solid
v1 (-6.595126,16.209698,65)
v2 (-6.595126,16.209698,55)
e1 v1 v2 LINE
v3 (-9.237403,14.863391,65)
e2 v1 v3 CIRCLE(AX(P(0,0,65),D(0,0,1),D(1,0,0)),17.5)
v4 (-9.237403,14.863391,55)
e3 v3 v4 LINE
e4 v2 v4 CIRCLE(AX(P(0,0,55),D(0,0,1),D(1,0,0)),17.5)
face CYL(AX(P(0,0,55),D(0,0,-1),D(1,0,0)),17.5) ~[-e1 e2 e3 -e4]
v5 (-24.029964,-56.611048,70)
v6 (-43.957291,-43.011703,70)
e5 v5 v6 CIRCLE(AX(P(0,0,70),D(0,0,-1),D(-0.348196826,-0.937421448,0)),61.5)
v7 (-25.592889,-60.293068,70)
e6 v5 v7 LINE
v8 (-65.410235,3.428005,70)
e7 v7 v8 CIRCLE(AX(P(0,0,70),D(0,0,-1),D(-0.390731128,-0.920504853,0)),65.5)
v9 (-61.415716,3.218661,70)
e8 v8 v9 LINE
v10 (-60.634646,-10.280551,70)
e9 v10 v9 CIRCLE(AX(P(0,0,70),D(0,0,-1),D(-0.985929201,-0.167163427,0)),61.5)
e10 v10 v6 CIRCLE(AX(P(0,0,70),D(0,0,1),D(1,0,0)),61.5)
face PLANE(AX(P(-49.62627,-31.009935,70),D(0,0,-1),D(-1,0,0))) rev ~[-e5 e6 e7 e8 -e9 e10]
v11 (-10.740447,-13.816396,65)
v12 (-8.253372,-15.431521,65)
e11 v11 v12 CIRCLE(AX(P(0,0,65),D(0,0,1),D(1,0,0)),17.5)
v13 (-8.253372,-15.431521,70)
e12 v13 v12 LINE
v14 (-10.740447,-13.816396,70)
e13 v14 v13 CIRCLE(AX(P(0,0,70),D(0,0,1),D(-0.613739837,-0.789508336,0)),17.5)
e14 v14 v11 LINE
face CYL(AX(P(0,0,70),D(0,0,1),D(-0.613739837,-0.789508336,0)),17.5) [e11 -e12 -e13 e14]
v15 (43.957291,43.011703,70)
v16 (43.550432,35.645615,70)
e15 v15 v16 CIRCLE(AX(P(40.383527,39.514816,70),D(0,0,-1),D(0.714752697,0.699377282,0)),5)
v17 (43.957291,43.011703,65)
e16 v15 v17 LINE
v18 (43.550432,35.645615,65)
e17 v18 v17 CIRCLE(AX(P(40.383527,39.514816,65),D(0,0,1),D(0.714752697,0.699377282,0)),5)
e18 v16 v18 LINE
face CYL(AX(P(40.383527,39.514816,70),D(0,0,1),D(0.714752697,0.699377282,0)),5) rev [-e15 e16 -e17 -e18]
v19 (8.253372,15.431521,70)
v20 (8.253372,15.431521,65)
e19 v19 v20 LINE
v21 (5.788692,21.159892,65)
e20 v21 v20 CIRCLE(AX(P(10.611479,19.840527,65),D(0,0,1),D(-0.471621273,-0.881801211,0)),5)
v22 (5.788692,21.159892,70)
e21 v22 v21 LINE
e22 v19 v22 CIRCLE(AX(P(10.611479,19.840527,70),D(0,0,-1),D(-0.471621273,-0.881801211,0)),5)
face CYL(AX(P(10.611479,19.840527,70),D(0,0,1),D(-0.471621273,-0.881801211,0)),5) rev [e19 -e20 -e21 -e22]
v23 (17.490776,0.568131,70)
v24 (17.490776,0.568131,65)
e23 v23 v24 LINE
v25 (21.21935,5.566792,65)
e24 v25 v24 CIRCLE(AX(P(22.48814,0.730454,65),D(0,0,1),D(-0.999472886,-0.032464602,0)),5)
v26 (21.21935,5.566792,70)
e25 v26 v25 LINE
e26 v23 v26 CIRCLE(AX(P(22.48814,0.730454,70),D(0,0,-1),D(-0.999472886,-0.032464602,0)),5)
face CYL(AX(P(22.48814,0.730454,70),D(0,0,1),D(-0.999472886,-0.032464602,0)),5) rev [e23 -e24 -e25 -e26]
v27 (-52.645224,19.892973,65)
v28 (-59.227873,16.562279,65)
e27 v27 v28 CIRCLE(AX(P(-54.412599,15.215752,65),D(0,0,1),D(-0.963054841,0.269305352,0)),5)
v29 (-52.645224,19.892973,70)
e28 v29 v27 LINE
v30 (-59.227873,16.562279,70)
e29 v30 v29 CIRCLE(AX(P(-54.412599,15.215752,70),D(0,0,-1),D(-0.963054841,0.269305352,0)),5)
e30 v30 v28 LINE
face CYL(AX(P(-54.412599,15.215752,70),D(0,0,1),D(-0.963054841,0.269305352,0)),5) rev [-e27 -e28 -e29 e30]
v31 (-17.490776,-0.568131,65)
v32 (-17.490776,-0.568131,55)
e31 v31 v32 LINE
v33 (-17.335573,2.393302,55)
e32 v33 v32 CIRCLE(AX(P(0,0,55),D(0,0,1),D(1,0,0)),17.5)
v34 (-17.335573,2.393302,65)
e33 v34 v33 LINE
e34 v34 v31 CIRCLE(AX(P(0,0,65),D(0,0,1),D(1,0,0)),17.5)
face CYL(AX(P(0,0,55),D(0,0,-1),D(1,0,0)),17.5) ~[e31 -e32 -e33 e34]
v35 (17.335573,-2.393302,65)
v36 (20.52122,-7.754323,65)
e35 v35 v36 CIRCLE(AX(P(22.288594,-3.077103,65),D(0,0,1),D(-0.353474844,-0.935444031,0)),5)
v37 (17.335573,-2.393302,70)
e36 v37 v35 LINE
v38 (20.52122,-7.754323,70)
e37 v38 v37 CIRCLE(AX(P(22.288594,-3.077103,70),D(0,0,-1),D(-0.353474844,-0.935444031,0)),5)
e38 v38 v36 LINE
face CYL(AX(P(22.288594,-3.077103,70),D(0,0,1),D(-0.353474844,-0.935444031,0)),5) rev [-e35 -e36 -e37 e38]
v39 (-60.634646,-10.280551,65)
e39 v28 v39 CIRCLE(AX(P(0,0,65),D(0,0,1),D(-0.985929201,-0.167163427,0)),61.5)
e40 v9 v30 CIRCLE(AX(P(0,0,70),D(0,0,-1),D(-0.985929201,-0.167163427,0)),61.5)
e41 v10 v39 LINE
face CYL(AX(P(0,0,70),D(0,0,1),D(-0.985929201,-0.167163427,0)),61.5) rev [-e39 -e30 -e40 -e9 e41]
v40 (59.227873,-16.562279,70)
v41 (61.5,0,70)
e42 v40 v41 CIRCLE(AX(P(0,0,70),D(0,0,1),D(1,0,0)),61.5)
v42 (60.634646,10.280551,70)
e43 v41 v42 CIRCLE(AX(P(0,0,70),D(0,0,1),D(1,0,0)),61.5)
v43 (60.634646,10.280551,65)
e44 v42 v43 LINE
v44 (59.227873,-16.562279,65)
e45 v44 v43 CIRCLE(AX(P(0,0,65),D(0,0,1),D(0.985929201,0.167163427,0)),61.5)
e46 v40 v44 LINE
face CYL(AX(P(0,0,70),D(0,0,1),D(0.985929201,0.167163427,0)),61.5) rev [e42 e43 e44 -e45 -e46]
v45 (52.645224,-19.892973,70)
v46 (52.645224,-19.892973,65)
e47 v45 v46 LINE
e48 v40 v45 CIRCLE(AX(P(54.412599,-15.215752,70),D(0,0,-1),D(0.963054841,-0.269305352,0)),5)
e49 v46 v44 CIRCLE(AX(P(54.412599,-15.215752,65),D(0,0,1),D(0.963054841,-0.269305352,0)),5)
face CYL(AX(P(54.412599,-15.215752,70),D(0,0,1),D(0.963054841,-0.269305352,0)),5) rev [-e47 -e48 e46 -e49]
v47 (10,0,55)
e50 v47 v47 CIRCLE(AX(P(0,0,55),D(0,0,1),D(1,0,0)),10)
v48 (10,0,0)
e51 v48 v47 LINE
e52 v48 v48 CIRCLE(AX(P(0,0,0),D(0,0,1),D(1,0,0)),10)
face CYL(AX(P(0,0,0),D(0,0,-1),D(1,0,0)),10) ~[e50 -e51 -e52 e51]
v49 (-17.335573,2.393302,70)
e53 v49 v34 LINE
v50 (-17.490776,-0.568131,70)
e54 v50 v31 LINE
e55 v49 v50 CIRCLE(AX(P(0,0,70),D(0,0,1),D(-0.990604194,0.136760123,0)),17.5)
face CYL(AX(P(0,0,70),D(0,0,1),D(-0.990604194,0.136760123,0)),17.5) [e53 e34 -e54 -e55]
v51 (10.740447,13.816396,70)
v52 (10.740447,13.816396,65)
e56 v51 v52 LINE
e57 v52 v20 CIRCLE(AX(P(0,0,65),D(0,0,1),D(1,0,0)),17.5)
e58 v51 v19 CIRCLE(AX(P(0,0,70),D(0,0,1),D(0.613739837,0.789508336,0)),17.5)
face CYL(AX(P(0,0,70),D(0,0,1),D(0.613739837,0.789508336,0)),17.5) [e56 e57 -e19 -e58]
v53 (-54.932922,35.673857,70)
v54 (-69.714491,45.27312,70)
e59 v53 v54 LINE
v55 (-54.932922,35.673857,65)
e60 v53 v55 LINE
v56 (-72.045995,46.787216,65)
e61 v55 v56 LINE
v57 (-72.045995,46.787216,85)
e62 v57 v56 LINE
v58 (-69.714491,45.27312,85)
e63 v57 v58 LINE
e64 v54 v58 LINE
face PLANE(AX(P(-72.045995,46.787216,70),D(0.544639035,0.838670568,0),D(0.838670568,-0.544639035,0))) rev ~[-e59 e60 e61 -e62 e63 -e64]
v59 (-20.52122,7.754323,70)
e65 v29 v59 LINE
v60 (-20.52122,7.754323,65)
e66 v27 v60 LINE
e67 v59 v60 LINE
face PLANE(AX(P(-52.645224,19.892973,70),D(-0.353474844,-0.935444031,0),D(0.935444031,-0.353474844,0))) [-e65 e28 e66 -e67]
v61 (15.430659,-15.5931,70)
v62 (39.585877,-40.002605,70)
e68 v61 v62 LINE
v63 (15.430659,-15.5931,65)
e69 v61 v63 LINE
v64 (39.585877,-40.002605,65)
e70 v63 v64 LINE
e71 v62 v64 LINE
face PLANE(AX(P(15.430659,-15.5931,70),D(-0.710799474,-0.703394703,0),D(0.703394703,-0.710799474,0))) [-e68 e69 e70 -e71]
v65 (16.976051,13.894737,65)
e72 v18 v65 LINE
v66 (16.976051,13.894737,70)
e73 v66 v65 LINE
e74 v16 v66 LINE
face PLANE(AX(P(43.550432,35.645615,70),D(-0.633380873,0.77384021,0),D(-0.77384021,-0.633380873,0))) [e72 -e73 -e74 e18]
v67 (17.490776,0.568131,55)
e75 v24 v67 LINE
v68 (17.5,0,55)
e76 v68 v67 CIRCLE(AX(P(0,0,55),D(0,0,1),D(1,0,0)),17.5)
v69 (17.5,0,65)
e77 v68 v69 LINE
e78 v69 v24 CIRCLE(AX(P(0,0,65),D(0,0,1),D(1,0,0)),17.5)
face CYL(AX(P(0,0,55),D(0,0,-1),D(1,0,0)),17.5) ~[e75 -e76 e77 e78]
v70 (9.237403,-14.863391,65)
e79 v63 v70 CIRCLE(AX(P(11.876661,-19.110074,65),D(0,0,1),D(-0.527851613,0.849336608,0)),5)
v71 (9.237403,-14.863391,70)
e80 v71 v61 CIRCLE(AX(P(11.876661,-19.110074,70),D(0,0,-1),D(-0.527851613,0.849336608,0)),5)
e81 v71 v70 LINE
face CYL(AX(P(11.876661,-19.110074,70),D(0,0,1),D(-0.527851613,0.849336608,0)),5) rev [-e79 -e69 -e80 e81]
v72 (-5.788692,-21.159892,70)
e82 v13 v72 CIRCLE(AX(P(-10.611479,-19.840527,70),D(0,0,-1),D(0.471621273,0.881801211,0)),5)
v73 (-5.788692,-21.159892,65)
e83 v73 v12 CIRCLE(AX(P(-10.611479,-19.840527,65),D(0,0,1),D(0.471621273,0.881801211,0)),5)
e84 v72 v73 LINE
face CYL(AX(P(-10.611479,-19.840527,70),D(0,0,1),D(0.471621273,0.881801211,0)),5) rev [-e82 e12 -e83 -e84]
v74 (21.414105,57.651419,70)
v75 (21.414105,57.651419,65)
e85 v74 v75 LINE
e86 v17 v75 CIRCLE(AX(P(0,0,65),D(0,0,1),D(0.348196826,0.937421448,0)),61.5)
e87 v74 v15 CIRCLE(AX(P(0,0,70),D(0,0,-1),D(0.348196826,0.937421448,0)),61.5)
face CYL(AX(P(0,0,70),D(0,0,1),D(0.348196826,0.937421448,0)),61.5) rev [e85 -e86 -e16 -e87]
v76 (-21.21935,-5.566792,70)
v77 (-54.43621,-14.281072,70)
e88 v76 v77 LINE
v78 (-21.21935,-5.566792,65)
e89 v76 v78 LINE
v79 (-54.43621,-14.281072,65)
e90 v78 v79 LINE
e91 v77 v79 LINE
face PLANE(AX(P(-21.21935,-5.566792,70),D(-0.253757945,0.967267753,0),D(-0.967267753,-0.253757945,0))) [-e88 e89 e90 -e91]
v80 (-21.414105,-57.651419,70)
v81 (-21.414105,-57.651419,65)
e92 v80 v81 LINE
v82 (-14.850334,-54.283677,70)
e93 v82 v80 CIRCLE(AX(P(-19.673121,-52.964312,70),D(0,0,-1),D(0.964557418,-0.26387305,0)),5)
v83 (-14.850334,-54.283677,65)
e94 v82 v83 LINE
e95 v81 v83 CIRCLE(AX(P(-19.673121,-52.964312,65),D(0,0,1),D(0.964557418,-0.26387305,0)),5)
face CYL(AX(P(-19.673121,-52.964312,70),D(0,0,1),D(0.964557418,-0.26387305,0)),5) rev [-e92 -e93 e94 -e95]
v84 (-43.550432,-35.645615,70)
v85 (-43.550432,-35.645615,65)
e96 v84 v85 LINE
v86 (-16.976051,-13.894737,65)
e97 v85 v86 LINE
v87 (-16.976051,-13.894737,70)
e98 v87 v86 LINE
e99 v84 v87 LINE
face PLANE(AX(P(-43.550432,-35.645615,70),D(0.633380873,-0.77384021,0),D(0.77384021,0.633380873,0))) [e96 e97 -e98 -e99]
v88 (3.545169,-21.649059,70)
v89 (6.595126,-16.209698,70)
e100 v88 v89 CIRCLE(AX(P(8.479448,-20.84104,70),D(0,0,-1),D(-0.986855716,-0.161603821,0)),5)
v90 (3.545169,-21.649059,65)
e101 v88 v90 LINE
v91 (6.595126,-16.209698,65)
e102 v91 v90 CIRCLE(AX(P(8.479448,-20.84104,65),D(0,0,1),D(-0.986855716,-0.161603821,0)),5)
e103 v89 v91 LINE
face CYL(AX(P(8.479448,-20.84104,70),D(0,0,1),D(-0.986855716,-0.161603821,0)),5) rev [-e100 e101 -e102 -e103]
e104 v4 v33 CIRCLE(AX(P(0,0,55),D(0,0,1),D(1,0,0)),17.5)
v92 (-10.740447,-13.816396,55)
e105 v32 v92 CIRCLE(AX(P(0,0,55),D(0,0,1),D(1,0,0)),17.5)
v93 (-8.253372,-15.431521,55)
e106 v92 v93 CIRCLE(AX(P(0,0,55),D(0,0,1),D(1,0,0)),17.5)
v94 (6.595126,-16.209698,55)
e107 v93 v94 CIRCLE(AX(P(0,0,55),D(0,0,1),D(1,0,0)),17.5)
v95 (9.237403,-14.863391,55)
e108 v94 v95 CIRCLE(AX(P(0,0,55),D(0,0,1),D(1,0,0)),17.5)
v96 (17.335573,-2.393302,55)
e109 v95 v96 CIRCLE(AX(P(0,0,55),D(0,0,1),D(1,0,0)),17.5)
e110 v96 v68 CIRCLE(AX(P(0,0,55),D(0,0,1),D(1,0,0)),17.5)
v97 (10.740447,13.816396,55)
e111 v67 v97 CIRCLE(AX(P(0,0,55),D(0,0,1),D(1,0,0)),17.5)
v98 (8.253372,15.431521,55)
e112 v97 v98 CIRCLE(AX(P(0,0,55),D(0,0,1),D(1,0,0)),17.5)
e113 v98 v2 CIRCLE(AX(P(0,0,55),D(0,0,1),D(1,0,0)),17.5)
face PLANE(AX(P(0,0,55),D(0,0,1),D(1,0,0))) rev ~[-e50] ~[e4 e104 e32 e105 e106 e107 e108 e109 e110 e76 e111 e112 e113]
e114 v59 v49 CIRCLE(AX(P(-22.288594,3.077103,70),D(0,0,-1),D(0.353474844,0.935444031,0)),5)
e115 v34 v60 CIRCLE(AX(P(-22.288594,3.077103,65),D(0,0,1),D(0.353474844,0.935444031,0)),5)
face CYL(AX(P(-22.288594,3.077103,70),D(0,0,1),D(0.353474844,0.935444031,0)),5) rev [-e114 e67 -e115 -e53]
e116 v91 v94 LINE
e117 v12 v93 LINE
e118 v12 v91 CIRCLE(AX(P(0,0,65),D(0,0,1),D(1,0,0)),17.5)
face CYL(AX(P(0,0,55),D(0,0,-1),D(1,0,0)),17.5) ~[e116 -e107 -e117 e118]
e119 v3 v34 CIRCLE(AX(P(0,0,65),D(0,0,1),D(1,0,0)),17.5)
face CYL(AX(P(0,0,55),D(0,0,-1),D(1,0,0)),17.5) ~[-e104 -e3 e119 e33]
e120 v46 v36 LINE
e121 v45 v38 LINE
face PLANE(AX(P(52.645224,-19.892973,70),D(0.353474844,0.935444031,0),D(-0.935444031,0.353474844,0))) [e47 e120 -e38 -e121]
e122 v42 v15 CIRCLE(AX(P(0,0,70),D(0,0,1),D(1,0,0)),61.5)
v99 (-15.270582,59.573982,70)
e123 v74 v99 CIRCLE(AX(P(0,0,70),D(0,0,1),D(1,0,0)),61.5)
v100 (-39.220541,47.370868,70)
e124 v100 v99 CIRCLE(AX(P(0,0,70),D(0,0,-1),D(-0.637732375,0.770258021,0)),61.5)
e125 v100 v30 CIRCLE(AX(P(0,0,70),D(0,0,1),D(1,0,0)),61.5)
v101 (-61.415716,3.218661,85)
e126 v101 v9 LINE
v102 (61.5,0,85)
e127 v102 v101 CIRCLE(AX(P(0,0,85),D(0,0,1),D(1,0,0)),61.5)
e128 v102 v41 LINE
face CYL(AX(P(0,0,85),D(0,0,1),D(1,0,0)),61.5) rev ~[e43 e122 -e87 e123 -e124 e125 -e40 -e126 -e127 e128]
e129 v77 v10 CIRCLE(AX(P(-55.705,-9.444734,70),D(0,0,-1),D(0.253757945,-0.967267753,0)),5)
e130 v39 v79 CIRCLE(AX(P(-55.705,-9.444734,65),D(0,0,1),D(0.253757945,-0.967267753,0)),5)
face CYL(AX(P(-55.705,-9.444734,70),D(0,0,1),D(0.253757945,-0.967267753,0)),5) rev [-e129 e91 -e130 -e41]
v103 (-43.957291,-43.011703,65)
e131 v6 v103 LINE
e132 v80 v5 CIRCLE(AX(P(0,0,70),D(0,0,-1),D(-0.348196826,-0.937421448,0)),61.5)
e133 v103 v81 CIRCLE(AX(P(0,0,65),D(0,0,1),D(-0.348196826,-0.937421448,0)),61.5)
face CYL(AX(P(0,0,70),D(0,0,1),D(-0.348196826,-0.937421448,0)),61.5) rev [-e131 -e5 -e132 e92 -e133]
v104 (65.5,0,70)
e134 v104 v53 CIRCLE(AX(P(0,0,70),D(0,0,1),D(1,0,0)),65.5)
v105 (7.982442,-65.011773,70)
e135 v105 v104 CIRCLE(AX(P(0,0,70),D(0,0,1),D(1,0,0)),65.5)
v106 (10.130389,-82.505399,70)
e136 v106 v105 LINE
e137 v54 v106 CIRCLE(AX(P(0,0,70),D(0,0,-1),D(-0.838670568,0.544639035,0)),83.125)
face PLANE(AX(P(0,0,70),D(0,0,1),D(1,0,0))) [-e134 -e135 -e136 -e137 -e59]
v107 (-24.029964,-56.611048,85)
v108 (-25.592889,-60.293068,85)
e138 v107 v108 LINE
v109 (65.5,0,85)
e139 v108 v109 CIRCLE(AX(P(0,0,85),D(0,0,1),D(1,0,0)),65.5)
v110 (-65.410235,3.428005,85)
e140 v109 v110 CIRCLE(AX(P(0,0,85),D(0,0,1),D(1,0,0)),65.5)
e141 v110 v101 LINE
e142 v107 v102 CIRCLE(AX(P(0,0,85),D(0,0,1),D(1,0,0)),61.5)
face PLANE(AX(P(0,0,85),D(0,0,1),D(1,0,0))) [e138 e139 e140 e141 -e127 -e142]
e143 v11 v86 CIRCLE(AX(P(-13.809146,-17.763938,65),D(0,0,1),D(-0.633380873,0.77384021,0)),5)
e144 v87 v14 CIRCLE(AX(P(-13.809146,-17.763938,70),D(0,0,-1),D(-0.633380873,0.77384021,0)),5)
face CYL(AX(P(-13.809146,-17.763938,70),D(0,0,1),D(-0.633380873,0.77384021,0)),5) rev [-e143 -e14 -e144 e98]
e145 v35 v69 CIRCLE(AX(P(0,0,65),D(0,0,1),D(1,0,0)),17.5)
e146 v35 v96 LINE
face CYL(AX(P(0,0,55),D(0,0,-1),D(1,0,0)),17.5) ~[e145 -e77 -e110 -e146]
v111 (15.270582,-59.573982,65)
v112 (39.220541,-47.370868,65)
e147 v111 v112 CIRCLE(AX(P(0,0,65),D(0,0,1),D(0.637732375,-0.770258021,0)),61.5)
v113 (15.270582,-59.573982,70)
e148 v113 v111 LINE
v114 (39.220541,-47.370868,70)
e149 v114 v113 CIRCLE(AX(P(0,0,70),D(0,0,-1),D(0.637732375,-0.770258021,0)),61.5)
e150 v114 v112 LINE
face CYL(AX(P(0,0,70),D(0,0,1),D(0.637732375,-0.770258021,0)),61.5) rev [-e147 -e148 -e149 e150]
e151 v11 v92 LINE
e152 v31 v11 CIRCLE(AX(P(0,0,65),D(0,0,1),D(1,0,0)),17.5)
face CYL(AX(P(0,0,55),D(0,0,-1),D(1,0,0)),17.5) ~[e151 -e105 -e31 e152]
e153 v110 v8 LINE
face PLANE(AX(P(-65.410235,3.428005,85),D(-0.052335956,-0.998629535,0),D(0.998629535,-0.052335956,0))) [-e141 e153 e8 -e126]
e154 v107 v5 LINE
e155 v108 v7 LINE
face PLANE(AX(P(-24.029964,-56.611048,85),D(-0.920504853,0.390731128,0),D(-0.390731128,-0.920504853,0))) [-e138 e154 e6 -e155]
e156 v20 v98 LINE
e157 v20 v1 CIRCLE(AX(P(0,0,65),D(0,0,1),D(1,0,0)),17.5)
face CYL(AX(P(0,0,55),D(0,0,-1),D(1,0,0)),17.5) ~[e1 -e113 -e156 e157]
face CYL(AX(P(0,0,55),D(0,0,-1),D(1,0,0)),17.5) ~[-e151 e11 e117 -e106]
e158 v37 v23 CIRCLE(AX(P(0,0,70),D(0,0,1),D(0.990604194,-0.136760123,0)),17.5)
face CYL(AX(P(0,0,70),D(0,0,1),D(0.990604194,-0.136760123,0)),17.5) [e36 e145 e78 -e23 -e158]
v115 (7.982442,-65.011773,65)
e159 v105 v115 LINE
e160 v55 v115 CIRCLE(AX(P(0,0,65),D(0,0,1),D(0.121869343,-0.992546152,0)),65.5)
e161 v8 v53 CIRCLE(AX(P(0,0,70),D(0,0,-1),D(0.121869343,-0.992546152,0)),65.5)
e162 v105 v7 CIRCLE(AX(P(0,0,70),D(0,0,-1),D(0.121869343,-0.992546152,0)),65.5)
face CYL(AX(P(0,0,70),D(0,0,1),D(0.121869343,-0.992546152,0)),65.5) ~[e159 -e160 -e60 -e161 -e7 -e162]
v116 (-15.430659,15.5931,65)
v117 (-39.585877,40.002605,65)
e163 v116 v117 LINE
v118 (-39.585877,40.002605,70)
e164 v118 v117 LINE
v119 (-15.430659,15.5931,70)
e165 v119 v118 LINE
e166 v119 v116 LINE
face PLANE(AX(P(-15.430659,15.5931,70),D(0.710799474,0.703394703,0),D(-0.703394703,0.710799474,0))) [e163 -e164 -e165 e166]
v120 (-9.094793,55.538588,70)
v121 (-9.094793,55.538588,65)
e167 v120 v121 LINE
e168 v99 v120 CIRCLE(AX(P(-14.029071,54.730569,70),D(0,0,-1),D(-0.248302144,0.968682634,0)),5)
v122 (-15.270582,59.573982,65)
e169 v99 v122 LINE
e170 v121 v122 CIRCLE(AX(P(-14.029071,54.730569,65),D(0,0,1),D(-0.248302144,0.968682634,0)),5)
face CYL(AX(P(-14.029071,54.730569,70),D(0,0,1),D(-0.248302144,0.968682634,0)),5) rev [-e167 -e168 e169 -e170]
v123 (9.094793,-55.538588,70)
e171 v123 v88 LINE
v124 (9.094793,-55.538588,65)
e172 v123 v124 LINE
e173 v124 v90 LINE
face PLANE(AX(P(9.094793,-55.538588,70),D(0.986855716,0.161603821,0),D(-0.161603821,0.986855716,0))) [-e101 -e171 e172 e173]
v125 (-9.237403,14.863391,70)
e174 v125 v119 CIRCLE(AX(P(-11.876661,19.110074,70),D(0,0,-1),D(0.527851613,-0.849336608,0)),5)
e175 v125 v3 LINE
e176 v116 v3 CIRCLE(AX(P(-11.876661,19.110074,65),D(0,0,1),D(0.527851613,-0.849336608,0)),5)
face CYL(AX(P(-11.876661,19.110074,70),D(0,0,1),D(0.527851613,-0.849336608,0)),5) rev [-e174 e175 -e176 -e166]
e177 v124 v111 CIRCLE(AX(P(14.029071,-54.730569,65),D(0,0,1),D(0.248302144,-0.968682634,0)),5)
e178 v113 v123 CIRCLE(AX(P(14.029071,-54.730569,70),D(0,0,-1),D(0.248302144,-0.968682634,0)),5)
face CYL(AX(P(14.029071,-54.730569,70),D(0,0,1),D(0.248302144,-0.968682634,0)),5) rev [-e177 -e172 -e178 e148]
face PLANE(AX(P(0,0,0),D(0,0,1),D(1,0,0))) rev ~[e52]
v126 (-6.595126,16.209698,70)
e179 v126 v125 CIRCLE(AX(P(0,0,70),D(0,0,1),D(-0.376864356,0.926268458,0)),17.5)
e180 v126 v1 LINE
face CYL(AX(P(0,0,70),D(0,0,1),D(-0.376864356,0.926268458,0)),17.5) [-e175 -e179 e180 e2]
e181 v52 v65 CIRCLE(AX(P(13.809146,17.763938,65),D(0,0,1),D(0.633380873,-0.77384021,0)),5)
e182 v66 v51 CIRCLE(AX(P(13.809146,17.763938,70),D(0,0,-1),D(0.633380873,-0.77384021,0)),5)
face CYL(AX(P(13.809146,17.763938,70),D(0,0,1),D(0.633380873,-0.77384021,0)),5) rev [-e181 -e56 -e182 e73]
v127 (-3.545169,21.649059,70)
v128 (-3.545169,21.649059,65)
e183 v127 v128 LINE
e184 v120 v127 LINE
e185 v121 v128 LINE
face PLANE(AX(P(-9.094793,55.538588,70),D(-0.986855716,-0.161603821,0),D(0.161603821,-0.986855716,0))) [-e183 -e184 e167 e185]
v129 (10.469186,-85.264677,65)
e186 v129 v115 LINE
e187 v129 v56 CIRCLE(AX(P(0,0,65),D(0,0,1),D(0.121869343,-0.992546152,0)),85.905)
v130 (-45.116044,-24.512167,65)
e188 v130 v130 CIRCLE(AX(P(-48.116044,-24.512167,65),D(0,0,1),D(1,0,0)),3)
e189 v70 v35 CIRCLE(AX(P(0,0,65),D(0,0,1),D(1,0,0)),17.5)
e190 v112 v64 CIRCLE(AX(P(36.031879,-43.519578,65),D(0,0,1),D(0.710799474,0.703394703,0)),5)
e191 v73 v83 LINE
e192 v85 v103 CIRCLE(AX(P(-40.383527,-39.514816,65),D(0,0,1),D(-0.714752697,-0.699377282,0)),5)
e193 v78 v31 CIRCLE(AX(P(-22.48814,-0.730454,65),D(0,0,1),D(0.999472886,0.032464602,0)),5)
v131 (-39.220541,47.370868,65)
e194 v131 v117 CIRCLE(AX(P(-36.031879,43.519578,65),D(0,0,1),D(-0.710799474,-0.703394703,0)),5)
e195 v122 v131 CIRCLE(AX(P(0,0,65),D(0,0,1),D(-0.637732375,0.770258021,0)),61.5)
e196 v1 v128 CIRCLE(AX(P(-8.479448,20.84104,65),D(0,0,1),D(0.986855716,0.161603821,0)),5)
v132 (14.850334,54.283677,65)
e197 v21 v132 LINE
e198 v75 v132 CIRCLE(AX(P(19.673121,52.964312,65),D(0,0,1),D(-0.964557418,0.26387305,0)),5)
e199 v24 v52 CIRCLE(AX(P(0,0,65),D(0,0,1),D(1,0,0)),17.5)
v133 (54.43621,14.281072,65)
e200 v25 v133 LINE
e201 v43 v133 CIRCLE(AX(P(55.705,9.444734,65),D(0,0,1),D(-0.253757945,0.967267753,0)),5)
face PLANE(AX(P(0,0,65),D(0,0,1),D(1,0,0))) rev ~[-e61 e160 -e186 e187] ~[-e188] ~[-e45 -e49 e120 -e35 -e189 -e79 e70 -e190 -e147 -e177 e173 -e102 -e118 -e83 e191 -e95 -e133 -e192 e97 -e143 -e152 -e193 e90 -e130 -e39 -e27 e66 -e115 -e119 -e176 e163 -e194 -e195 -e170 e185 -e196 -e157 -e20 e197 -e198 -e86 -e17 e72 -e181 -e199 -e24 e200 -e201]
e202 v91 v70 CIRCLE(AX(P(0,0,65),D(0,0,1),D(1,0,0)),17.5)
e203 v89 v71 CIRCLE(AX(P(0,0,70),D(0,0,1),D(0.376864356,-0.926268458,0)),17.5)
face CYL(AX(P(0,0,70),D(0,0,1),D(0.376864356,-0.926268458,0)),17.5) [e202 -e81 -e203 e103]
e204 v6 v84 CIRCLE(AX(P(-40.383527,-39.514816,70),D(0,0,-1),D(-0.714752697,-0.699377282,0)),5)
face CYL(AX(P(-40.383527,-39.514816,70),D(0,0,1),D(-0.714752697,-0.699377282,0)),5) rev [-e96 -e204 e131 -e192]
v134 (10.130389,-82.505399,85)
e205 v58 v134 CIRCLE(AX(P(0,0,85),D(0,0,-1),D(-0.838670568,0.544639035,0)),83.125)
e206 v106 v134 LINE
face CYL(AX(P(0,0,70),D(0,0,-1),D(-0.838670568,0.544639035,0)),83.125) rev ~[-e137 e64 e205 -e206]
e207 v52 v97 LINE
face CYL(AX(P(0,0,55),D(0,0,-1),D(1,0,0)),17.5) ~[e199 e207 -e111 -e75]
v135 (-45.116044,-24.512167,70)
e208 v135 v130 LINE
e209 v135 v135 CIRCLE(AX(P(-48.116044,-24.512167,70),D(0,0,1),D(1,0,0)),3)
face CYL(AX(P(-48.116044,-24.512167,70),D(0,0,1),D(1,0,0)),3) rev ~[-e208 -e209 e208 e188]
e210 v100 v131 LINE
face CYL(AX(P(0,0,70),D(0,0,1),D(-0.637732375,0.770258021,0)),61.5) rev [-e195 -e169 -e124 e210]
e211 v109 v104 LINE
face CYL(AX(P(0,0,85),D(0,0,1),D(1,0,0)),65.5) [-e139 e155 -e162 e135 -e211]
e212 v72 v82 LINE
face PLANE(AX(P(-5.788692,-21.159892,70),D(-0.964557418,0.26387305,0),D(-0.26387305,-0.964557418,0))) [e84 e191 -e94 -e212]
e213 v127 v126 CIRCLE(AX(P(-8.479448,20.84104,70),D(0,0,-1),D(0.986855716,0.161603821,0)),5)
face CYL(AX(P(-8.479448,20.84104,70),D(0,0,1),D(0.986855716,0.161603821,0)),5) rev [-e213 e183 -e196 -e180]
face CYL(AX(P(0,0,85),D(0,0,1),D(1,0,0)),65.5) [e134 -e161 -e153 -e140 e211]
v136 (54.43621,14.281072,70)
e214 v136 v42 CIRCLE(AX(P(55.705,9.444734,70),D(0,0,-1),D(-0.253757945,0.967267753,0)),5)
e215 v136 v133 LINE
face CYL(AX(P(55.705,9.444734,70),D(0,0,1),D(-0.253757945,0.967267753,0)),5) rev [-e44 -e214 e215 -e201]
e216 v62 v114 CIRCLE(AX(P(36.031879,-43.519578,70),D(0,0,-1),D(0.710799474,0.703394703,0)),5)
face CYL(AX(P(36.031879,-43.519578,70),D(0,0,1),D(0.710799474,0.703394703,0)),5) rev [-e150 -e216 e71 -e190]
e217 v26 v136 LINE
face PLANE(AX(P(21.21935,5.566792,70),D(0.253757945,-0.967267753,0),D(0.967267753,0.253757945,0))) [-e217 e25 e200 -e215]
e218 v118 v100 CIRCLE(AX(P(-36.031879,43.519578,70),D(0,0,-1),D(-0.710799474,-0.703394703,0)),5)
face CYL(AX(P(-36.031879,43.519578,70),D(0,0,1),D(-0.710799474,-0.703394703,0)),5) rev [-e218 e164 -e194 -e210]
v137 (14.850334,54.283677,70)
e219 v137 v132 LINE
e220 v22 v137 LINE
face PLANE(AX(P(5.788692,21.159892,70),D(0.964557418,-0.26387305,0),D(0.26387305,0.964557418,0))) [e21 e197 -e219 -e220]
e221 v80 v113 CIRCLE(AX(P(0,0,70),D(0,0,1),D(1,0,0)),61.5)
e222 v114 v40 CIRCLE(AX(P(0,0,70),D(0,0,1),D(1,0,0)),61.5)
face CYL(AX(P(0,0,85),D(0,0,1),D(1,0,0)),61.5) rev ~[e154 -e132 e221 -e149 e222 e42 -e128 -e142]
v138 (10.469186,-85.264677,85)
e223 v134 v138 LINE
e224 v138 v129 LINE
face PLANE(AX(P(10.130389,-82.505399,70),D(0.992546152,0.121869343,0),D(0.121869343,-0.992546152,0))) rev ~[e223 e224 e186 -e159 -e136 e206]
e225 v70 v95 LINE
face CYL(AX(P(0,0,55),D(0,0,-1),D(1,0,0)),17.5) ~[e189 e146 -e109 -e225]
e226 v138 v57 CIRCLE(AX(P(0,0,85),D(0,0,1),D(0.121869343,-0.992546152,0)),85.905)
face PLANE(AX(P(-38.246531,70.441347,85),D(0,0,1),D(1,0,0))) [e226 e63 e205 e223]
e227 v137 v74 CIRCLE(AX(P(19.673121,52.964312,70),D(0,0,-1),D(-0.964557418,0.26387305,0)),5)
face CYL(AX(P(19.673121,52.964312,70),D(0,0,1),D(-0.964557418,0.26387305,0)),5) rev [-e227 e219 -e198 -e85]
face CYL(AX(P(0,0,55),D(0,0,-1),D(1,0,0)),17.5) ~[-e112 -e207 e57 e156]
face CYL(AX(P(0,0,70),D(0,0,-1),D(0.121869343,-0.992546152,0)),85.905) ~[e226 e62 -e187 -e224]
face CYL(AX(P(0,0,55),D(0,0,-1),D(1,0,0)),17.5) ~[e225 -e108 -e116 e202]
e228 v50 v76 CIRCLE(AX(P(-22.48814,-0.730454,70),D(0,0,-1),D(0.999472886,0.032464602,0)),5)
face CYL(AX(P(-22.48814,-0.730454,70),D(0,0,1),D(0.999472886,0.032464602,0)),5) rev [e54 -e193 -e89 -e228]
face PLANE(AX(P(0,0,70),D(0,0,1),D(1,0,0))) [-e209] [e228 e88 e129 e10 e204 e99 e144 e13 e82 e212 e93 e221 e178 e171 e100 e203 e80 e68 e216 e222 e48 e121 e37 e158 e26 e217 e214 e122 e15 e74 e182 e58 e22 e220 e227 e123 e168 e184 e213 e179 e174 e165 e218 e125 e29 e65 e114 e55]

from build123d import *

# Parameters (mm, degrees)
SCHIZZO1_R                   = 10.000000000000002
ESTRUSIONE_ESTRUSIONE1_DEPTH = 55
SCHIZZO2_R                   = 17.500000000000004
ESTRUSIONE_ESTRUSIONE2_DEPTH = 10
SCHIZZO3_R                   = 85.905
ESTRUSIONE_ESTRUSIONE3_DEPTH = 5
ESTRUSIONE_ESTRUSIONE4_DEPTH = 15
TAGLIO_ESTRUSIONE1_DEPTH     = 141.2117614538809
ESTRUSIONE_ESTRUSIONE5_START = 15
SCHIZZO6_R                   = 65.50000000000003
SCHIZZO6_R_2                 = 61.50000000000001
ESTRUSIONE_ESTRUSIONE5_DEPTH = 15
TAGLIO_ESTRUSIONE2_DEPTH     = 141.2117614538809
TAGLIO_ESTRUSIONE3_DEPTH     = 15
SCHIZZO9_R                   = 3.0000000000000018
TAGLIO_ESTRUSIONE4_DEPTH     = 141.2117614538809


with BuildPart() as part:
    # Schizzo1 → Estrusione-Estrusione1 (new body)
    with BuildSketch(Plane.XY):
        Circle(SCHIZZO1_R)
    extrude(amount=ESTRUSIONE_ESTRUSIONE1_DEPTH)

    # Schizzo2 → Estrusione-Estrusione2 (add)
    with BuildSketch(Plane.XY.offset(55)):
        Circle(SCHIZZO2_R)
    extrude(amount=ESTRUSIONE_ESTRUSIONE2_DEPTH)

    # Schizzo3 → Estrusione-Estrusione3 (add)
    with BuildSketch(Plane.XY.offset(65)):
        Circle(SCHIZZO3_R)
    extrude(amount=ESTRUSIONE_ESTRUSIONE3_DEPTH)

    # Schizzo4 → Estrusione-Estrusione4 (add)
    with BuildSketch(Plane.XY.offset(70)):
        with BuildLine():
            ThreePointArc((2.33238e-12, 85.905), (-40.99032330010046, 75.49478406322679), (-72.04599513935142, 46.78721630296627))
            Line((-72.0459951393514, 46.78721630296625), (-69.71449096046315, 45.27311978562447))
            ThreePointArc((-69.71449096046314, 45.27311978562449), (-39.66382194658025, 73.05167249002571), (-1.12081e-12, 83.125))
            Line((0, 83.125), (0, 85.905))
        make_face()
        with BuildLine():
            Line((10.130389170552856, -82.5053988551849), (10.469185945219174, -85.26467715674777))
            ThreePointArc((10.469185945219136, -85.26467715674778), (64.3390411943792, -56.92237524197296), (85.905, -2.104e-14))
            ThreePointArc((85.905, 0), (60.74400803783119, 60.74400803782954), (2.33238e-12, 85.905))
            Line((0, 85.905), (0, 83.125))
            ThreePointArc((-1.10236e-12, 83.125), (58.77825118613137, 58.77825118613215), (83.125, 0))
            ThreePointArc((83.125, -2.036e-14), (62.25694429058578, -55.08029150793321), (10.130389170552828, -82.5053988551849))
        make_face()
    extrude(amount=ESTRUSIONE_ESTRUSIONE4_DEPTH)

    # Schizzo5 → Taglio-Estrusione1 (cut, through all)
    with BuildSketch(Plane.XY.offset(70)):
        with BuildLine():
            Line((-69.7144909604632, 45.27311978562441), (-72.04599513935146, 46.78721630296619))
            ThreePointArc((-72.04599513935142, 46.787216302966286), (-72.85157170031785, -45.522714393953365), (10.469185945219396, -85.26467715674775))
            Line((10.469185945218987, -85.26467715674781), (10.130389170552684, -82.50539885518494))
            Line((10.130389170552684, -82.50539885518494), (7.982441993037, -65.0117729325066))
            ThreePointArc((7.9824419930370025, -65.01177293250663), (-55.54715029824602, -34.70971180727477), (-54.932922200425146, 35.67385679348449))
            Line((-54.93292220042516, 35.67385679348449), (-69.7144909604632, 45.27311978562441))
        make_face()
    extrude(amount=-TAGLIO_ESTRUSIONE1_DEPTH, mode=Mode.SUBTRACT)

    # Schizzo6 → Estrusione-Estrusione5 (add)
    with BuildSketch(Plane.XY.offset(70).offset(ESTRUSIONE_ESTRUSIONE5_START)):
        Circle(SCHIZZO6_R)
        Circle(SCHIZZO6_R_2, mode=Mode.SUBTRACT)
    extrude(amount=-ESTRUSIONE_ESTRUSIONE5_DEPTH)

    # Schizzo7 → Taglio-Estrusione2 (cut, through all)
    with BuildSketch(Plane.XY.offset(70)):
        with BuildLine():
            Line((-9.094792559402517, 55.53858792138523), (-3.5451694376210634, 21.649059417410207))
            ThreePointArc((-3.5451694376210634, 21.649059417410207), (-4.118256573097941, 18.39563458554113), (-6.595126237509526, 16.209698020361557))
            ThreePointArc((-6.595126237509526, 16.209698020361557), (-7.944833745441985, 15.59261417329648), (-9.237403232743027, 14.863390646676436))
            ThreePointArc((-9.237403232743027, 14.863390646676436), (-12.461730523190647, 14.144422270775147), (-15.430658668606016, 15.59310017453149))
            Line((-15.430658668606016, 15.59310017453149), (-39.58587653291128, 40.00260465421101))
            ThreePointArc((-39.58587653291128, 40.00260465421101), (-41.025744459915046, 43.76718552220088), (-39.2205410364265, 47.37086827164967))
            ThreePointArc((-39.2205410364265, 47.37086827164967), (-27.92041573398183, 54.796901237584784), (-15.27058186191767, 59.57398198541434))
            ThreePointArc((-15.27058186191767, 59.57398198541434), (-11.294069325563324, 58.91623065925357), (-9.094792559402517, 55.53858792138523))
        make_face()
        with BuildLine():
            Line((43.550431750534024, 35.64561535928479), (16.976050704705482, 13.894736502405099))
            ThreePointArc((16.976050704705482, 13.894736502405099), (13.871958583265304, 12.764332104375594), (10.740447154552704, 13.816395873029286))
            ThreePointArc((10.740447154552704, 13.816395873029286), (9.53118311276309, 14.676734939044845), (8.253372270022329, 15.431521187894159))
            ThreePointArc((8.253372270022329, 15.431521187894159), (6.018563746750371, 17.864386343586606), (5.788691540596875, 21.159892491405103))
            Line((5.788691540596875, 21.159892491405103), (14.850333581636846, 54.28367703568089))
            ThreePointArc((14.850333581636846, 54.28367703568089), (17.390622284415066, 57.41292967255552), (21.41410480436174, 57.65141902354019))
            ThreePointArc((21.41410480436174, 57.65141902354019), (33.495300653424565, 51.578239928643306), (43.95729087300659, 43.011702815697646))
            ThreePointArc((43.95729087300659, 43.011702815697646), (45.37591778335563, 39.239066277667106), (43.550431750534024, 35.64561535928479))
        make_face()
        with BuildLine():
            Line((52.645224309936374, -19.89297256210059), (20.52122014232648, -7.754322915005166))
            ThreePointArc((20.52122014232648, -7.754322915005166), (17.990215156363192, -5.631302481165585), (17.335573392062187, -2.3933021473323244))
            ThreePointArc((17.335573392062187, -2.3933021473323244), (17.476016858205035, -0.9158792342516949), (17.49077550276533, 0.5681305412176627))
            ThreePointArc((17.49077550276533, 0.5681305412176627), (18.480294269940998, 3.7199640728113863), (21.21935020920287, 5.566792316873533))
            Line((21.21935020920287, 5.566792316873533), (54.436210114548075, 14.281072381469665))
            ThreePointArc((54.436210114548075, 14.281072381469665), (58.416366744330055, 13.64574415035441), (60.634645840788174, 10.280550751890294))
            ThreePointArc((60.634645840788174, 10.280550751890294), (61.41571638740626, -3.2186613089416714), (59.2278727349241, -16.562279169716877))
            ThreePointArc((59.2278727349241, -16.562279169716877), (56.66998710891878, -19.67716438158663), (52.645224309936374, -19.89297256210059))
        make_face()
        with BuildLine():
            Line((9.094792559402126, -55.538587921385286), (3.54516943762091, -21.649059417410225))
            ThreePointArc((3.54516943762091, -21.649059417410225), (4.118256573097811, -18.395634585541153), (6.595126237509411, -16.209698020361596))
            ThreePointArc((6.595126237509411, -16.209698020361596), (7.944833745441873, -15.592614173296528), (9.237403232742922, -14.863390646676493))
            ThreePointArc((9.237403232742922, -14.863390646676493), (12.461730523190546, -14.144422270775227), (15.430658668605904, -15.593100174531589))
            Line((15.430658668605904, -15.593100174531589), (39.585876532911, -40.00260465421129))
            ThreePointArc((39.585876532911, -40.00260465421129), (41.02574445991474, -43.76718552220117), (39.22054103642617, -47.37086827164993))
            ThreePointArc((39.22054103642617, -47.37086827164993), (27.92041573398144, -54.79690123758496), (15.27058186191725, -59.57398198541444))
            ThreePointArc((15.27058186191725, -59.57398198541444), (11.29406932556291, -58.91623065925364), (9.094792559402126, -55.538587921385286))
        make_face()
        with BuildLine():
            Line((-43.55043175053426, -35.645615359284484), (-16.976050704705578, -13.89473650240498))
            ThreePointArc((-16.976050704705578, -13.89473650240498), (-13.87195858326539, -12.764332104375498), (-10.740447154552799, -13.816395873029213))
            ThreePointArc((-10.740447154552799, -13.816395873029213), (-9.53118311276319, -14.676734939044781), (-8.253372270022437, -15.4315211878941))
            ThreePointArc((-8.253372270022437, -15.4315211878941), (-6.018563746750495, -17.86438634358656), (-5.7886915405970205, -21.159892491405063))
            Line((-5.7886915405970205, -21.159892491405063), (-14.850333581637225, -54.283677035680796))
            ThreePointArc((-14.850333581637225, -54.283677035680796), (-17.39062228441547, -57.41292967255541), (-21.414104804362143, -57.65141902354005))
            ThreePointArc((-21.414104804362143, -57.65141902354005), (-33.49530065342495, -51.57823992864311), (-43.9572908730069, -43.01170281569734))
            ThreePointArc((-43.9572908730069, -43.01170281569734), (-45.375917783355895, -39.23906627766678), (-43.55043175053426, -35.645615359284484))
        make_face()
        with BuildLine():
            Line((-52.64522430993622, 19.892972562100955), (-20.52122014232642, 7.754322915005307))
            ThreePointArc((-20.52122014232642, 7.754322915005307), (-17.990215156363146, 5.631302481165709), (-17.335573392062166, 2.393302147332444))
            ThreePointArc((-17.335573392062166, 2.393302147332444), (-17.47601685820502, 0.915879234251819), (-17.49077550276533, -0.5681305412175421))
            ThreePointArc((-17.49077550276533, -0.5681305412175421), (-18.480294269941023, -3.7199640728112584), (-21.219350209202908, -5.566792316873385))
            Line((-21.219350209202908, -5.566792316873385), (-54.43621011454816, -14.281072381469283))
            ThreePointArc((-54.43621011454816, -14.281072381469283), (-58.41636674433013, -13.645744150354004), (-60.63464584078823, -10.280550751889873))
            ThreePointArc((-60.63464584078823, -10.280550751889873), (-61.41571638740626, 3.218661308942107), (-59.22787273492397, 16.562279169717286))
            ThreePointArc((-59.22787273492397, 16.562279169717286), (-56.66998710891863, 19.677164381587026), (-52.64522430993622, 19.892972562100955))
        make_face()
    extrude(amount=-TAGLIO_ESTRUSIONE2_DEPTH, mode=Mode.SUBTRACT)

    # Schizzo8 → Taglio-Estrusione3 (cut)
    with BuildSketch(Plane.XY.offset(85)):
        with BuildLine():
            Line((-65.41023452642462, 3.4280051339130924), (-61.41571638740627, 3.2186613089413))
            ThreePointArc((-61.41571638740627, 3.2186613089413), (-52.15495791361932, -32.590034750342085), (-24.029964402089327, -56.61104848732551))
            Line((-24.029964402089327, -56.61104848732551), (-25.592888916046377, -60.29306790113534))
            ThreePointArc((-25.592888916046377, -60.29306790113534), (-55.547150298245406, -34.709711807275156), (-65.41023452642462, 3.4280051339130924))
        make_face()
    extrude(amount=-TAGLIO_ESTRUSIONE3_DEPTH, mode=Mode.SUBTRACT)

    # Schizzo9 → Taglio-Estrusione4 (cut, through all)
    with BuildSketch(Plane.XY.offset(70)):
        with Locations((-48.11604392732846, -24.512166709277214)):
            Circle(SCHIZZO9_R)
    extrude(amount=-TAGLIO_ESTRUSIONE4_DEPTH, mode=Mode.SUBTRACT)


solid = part.part
